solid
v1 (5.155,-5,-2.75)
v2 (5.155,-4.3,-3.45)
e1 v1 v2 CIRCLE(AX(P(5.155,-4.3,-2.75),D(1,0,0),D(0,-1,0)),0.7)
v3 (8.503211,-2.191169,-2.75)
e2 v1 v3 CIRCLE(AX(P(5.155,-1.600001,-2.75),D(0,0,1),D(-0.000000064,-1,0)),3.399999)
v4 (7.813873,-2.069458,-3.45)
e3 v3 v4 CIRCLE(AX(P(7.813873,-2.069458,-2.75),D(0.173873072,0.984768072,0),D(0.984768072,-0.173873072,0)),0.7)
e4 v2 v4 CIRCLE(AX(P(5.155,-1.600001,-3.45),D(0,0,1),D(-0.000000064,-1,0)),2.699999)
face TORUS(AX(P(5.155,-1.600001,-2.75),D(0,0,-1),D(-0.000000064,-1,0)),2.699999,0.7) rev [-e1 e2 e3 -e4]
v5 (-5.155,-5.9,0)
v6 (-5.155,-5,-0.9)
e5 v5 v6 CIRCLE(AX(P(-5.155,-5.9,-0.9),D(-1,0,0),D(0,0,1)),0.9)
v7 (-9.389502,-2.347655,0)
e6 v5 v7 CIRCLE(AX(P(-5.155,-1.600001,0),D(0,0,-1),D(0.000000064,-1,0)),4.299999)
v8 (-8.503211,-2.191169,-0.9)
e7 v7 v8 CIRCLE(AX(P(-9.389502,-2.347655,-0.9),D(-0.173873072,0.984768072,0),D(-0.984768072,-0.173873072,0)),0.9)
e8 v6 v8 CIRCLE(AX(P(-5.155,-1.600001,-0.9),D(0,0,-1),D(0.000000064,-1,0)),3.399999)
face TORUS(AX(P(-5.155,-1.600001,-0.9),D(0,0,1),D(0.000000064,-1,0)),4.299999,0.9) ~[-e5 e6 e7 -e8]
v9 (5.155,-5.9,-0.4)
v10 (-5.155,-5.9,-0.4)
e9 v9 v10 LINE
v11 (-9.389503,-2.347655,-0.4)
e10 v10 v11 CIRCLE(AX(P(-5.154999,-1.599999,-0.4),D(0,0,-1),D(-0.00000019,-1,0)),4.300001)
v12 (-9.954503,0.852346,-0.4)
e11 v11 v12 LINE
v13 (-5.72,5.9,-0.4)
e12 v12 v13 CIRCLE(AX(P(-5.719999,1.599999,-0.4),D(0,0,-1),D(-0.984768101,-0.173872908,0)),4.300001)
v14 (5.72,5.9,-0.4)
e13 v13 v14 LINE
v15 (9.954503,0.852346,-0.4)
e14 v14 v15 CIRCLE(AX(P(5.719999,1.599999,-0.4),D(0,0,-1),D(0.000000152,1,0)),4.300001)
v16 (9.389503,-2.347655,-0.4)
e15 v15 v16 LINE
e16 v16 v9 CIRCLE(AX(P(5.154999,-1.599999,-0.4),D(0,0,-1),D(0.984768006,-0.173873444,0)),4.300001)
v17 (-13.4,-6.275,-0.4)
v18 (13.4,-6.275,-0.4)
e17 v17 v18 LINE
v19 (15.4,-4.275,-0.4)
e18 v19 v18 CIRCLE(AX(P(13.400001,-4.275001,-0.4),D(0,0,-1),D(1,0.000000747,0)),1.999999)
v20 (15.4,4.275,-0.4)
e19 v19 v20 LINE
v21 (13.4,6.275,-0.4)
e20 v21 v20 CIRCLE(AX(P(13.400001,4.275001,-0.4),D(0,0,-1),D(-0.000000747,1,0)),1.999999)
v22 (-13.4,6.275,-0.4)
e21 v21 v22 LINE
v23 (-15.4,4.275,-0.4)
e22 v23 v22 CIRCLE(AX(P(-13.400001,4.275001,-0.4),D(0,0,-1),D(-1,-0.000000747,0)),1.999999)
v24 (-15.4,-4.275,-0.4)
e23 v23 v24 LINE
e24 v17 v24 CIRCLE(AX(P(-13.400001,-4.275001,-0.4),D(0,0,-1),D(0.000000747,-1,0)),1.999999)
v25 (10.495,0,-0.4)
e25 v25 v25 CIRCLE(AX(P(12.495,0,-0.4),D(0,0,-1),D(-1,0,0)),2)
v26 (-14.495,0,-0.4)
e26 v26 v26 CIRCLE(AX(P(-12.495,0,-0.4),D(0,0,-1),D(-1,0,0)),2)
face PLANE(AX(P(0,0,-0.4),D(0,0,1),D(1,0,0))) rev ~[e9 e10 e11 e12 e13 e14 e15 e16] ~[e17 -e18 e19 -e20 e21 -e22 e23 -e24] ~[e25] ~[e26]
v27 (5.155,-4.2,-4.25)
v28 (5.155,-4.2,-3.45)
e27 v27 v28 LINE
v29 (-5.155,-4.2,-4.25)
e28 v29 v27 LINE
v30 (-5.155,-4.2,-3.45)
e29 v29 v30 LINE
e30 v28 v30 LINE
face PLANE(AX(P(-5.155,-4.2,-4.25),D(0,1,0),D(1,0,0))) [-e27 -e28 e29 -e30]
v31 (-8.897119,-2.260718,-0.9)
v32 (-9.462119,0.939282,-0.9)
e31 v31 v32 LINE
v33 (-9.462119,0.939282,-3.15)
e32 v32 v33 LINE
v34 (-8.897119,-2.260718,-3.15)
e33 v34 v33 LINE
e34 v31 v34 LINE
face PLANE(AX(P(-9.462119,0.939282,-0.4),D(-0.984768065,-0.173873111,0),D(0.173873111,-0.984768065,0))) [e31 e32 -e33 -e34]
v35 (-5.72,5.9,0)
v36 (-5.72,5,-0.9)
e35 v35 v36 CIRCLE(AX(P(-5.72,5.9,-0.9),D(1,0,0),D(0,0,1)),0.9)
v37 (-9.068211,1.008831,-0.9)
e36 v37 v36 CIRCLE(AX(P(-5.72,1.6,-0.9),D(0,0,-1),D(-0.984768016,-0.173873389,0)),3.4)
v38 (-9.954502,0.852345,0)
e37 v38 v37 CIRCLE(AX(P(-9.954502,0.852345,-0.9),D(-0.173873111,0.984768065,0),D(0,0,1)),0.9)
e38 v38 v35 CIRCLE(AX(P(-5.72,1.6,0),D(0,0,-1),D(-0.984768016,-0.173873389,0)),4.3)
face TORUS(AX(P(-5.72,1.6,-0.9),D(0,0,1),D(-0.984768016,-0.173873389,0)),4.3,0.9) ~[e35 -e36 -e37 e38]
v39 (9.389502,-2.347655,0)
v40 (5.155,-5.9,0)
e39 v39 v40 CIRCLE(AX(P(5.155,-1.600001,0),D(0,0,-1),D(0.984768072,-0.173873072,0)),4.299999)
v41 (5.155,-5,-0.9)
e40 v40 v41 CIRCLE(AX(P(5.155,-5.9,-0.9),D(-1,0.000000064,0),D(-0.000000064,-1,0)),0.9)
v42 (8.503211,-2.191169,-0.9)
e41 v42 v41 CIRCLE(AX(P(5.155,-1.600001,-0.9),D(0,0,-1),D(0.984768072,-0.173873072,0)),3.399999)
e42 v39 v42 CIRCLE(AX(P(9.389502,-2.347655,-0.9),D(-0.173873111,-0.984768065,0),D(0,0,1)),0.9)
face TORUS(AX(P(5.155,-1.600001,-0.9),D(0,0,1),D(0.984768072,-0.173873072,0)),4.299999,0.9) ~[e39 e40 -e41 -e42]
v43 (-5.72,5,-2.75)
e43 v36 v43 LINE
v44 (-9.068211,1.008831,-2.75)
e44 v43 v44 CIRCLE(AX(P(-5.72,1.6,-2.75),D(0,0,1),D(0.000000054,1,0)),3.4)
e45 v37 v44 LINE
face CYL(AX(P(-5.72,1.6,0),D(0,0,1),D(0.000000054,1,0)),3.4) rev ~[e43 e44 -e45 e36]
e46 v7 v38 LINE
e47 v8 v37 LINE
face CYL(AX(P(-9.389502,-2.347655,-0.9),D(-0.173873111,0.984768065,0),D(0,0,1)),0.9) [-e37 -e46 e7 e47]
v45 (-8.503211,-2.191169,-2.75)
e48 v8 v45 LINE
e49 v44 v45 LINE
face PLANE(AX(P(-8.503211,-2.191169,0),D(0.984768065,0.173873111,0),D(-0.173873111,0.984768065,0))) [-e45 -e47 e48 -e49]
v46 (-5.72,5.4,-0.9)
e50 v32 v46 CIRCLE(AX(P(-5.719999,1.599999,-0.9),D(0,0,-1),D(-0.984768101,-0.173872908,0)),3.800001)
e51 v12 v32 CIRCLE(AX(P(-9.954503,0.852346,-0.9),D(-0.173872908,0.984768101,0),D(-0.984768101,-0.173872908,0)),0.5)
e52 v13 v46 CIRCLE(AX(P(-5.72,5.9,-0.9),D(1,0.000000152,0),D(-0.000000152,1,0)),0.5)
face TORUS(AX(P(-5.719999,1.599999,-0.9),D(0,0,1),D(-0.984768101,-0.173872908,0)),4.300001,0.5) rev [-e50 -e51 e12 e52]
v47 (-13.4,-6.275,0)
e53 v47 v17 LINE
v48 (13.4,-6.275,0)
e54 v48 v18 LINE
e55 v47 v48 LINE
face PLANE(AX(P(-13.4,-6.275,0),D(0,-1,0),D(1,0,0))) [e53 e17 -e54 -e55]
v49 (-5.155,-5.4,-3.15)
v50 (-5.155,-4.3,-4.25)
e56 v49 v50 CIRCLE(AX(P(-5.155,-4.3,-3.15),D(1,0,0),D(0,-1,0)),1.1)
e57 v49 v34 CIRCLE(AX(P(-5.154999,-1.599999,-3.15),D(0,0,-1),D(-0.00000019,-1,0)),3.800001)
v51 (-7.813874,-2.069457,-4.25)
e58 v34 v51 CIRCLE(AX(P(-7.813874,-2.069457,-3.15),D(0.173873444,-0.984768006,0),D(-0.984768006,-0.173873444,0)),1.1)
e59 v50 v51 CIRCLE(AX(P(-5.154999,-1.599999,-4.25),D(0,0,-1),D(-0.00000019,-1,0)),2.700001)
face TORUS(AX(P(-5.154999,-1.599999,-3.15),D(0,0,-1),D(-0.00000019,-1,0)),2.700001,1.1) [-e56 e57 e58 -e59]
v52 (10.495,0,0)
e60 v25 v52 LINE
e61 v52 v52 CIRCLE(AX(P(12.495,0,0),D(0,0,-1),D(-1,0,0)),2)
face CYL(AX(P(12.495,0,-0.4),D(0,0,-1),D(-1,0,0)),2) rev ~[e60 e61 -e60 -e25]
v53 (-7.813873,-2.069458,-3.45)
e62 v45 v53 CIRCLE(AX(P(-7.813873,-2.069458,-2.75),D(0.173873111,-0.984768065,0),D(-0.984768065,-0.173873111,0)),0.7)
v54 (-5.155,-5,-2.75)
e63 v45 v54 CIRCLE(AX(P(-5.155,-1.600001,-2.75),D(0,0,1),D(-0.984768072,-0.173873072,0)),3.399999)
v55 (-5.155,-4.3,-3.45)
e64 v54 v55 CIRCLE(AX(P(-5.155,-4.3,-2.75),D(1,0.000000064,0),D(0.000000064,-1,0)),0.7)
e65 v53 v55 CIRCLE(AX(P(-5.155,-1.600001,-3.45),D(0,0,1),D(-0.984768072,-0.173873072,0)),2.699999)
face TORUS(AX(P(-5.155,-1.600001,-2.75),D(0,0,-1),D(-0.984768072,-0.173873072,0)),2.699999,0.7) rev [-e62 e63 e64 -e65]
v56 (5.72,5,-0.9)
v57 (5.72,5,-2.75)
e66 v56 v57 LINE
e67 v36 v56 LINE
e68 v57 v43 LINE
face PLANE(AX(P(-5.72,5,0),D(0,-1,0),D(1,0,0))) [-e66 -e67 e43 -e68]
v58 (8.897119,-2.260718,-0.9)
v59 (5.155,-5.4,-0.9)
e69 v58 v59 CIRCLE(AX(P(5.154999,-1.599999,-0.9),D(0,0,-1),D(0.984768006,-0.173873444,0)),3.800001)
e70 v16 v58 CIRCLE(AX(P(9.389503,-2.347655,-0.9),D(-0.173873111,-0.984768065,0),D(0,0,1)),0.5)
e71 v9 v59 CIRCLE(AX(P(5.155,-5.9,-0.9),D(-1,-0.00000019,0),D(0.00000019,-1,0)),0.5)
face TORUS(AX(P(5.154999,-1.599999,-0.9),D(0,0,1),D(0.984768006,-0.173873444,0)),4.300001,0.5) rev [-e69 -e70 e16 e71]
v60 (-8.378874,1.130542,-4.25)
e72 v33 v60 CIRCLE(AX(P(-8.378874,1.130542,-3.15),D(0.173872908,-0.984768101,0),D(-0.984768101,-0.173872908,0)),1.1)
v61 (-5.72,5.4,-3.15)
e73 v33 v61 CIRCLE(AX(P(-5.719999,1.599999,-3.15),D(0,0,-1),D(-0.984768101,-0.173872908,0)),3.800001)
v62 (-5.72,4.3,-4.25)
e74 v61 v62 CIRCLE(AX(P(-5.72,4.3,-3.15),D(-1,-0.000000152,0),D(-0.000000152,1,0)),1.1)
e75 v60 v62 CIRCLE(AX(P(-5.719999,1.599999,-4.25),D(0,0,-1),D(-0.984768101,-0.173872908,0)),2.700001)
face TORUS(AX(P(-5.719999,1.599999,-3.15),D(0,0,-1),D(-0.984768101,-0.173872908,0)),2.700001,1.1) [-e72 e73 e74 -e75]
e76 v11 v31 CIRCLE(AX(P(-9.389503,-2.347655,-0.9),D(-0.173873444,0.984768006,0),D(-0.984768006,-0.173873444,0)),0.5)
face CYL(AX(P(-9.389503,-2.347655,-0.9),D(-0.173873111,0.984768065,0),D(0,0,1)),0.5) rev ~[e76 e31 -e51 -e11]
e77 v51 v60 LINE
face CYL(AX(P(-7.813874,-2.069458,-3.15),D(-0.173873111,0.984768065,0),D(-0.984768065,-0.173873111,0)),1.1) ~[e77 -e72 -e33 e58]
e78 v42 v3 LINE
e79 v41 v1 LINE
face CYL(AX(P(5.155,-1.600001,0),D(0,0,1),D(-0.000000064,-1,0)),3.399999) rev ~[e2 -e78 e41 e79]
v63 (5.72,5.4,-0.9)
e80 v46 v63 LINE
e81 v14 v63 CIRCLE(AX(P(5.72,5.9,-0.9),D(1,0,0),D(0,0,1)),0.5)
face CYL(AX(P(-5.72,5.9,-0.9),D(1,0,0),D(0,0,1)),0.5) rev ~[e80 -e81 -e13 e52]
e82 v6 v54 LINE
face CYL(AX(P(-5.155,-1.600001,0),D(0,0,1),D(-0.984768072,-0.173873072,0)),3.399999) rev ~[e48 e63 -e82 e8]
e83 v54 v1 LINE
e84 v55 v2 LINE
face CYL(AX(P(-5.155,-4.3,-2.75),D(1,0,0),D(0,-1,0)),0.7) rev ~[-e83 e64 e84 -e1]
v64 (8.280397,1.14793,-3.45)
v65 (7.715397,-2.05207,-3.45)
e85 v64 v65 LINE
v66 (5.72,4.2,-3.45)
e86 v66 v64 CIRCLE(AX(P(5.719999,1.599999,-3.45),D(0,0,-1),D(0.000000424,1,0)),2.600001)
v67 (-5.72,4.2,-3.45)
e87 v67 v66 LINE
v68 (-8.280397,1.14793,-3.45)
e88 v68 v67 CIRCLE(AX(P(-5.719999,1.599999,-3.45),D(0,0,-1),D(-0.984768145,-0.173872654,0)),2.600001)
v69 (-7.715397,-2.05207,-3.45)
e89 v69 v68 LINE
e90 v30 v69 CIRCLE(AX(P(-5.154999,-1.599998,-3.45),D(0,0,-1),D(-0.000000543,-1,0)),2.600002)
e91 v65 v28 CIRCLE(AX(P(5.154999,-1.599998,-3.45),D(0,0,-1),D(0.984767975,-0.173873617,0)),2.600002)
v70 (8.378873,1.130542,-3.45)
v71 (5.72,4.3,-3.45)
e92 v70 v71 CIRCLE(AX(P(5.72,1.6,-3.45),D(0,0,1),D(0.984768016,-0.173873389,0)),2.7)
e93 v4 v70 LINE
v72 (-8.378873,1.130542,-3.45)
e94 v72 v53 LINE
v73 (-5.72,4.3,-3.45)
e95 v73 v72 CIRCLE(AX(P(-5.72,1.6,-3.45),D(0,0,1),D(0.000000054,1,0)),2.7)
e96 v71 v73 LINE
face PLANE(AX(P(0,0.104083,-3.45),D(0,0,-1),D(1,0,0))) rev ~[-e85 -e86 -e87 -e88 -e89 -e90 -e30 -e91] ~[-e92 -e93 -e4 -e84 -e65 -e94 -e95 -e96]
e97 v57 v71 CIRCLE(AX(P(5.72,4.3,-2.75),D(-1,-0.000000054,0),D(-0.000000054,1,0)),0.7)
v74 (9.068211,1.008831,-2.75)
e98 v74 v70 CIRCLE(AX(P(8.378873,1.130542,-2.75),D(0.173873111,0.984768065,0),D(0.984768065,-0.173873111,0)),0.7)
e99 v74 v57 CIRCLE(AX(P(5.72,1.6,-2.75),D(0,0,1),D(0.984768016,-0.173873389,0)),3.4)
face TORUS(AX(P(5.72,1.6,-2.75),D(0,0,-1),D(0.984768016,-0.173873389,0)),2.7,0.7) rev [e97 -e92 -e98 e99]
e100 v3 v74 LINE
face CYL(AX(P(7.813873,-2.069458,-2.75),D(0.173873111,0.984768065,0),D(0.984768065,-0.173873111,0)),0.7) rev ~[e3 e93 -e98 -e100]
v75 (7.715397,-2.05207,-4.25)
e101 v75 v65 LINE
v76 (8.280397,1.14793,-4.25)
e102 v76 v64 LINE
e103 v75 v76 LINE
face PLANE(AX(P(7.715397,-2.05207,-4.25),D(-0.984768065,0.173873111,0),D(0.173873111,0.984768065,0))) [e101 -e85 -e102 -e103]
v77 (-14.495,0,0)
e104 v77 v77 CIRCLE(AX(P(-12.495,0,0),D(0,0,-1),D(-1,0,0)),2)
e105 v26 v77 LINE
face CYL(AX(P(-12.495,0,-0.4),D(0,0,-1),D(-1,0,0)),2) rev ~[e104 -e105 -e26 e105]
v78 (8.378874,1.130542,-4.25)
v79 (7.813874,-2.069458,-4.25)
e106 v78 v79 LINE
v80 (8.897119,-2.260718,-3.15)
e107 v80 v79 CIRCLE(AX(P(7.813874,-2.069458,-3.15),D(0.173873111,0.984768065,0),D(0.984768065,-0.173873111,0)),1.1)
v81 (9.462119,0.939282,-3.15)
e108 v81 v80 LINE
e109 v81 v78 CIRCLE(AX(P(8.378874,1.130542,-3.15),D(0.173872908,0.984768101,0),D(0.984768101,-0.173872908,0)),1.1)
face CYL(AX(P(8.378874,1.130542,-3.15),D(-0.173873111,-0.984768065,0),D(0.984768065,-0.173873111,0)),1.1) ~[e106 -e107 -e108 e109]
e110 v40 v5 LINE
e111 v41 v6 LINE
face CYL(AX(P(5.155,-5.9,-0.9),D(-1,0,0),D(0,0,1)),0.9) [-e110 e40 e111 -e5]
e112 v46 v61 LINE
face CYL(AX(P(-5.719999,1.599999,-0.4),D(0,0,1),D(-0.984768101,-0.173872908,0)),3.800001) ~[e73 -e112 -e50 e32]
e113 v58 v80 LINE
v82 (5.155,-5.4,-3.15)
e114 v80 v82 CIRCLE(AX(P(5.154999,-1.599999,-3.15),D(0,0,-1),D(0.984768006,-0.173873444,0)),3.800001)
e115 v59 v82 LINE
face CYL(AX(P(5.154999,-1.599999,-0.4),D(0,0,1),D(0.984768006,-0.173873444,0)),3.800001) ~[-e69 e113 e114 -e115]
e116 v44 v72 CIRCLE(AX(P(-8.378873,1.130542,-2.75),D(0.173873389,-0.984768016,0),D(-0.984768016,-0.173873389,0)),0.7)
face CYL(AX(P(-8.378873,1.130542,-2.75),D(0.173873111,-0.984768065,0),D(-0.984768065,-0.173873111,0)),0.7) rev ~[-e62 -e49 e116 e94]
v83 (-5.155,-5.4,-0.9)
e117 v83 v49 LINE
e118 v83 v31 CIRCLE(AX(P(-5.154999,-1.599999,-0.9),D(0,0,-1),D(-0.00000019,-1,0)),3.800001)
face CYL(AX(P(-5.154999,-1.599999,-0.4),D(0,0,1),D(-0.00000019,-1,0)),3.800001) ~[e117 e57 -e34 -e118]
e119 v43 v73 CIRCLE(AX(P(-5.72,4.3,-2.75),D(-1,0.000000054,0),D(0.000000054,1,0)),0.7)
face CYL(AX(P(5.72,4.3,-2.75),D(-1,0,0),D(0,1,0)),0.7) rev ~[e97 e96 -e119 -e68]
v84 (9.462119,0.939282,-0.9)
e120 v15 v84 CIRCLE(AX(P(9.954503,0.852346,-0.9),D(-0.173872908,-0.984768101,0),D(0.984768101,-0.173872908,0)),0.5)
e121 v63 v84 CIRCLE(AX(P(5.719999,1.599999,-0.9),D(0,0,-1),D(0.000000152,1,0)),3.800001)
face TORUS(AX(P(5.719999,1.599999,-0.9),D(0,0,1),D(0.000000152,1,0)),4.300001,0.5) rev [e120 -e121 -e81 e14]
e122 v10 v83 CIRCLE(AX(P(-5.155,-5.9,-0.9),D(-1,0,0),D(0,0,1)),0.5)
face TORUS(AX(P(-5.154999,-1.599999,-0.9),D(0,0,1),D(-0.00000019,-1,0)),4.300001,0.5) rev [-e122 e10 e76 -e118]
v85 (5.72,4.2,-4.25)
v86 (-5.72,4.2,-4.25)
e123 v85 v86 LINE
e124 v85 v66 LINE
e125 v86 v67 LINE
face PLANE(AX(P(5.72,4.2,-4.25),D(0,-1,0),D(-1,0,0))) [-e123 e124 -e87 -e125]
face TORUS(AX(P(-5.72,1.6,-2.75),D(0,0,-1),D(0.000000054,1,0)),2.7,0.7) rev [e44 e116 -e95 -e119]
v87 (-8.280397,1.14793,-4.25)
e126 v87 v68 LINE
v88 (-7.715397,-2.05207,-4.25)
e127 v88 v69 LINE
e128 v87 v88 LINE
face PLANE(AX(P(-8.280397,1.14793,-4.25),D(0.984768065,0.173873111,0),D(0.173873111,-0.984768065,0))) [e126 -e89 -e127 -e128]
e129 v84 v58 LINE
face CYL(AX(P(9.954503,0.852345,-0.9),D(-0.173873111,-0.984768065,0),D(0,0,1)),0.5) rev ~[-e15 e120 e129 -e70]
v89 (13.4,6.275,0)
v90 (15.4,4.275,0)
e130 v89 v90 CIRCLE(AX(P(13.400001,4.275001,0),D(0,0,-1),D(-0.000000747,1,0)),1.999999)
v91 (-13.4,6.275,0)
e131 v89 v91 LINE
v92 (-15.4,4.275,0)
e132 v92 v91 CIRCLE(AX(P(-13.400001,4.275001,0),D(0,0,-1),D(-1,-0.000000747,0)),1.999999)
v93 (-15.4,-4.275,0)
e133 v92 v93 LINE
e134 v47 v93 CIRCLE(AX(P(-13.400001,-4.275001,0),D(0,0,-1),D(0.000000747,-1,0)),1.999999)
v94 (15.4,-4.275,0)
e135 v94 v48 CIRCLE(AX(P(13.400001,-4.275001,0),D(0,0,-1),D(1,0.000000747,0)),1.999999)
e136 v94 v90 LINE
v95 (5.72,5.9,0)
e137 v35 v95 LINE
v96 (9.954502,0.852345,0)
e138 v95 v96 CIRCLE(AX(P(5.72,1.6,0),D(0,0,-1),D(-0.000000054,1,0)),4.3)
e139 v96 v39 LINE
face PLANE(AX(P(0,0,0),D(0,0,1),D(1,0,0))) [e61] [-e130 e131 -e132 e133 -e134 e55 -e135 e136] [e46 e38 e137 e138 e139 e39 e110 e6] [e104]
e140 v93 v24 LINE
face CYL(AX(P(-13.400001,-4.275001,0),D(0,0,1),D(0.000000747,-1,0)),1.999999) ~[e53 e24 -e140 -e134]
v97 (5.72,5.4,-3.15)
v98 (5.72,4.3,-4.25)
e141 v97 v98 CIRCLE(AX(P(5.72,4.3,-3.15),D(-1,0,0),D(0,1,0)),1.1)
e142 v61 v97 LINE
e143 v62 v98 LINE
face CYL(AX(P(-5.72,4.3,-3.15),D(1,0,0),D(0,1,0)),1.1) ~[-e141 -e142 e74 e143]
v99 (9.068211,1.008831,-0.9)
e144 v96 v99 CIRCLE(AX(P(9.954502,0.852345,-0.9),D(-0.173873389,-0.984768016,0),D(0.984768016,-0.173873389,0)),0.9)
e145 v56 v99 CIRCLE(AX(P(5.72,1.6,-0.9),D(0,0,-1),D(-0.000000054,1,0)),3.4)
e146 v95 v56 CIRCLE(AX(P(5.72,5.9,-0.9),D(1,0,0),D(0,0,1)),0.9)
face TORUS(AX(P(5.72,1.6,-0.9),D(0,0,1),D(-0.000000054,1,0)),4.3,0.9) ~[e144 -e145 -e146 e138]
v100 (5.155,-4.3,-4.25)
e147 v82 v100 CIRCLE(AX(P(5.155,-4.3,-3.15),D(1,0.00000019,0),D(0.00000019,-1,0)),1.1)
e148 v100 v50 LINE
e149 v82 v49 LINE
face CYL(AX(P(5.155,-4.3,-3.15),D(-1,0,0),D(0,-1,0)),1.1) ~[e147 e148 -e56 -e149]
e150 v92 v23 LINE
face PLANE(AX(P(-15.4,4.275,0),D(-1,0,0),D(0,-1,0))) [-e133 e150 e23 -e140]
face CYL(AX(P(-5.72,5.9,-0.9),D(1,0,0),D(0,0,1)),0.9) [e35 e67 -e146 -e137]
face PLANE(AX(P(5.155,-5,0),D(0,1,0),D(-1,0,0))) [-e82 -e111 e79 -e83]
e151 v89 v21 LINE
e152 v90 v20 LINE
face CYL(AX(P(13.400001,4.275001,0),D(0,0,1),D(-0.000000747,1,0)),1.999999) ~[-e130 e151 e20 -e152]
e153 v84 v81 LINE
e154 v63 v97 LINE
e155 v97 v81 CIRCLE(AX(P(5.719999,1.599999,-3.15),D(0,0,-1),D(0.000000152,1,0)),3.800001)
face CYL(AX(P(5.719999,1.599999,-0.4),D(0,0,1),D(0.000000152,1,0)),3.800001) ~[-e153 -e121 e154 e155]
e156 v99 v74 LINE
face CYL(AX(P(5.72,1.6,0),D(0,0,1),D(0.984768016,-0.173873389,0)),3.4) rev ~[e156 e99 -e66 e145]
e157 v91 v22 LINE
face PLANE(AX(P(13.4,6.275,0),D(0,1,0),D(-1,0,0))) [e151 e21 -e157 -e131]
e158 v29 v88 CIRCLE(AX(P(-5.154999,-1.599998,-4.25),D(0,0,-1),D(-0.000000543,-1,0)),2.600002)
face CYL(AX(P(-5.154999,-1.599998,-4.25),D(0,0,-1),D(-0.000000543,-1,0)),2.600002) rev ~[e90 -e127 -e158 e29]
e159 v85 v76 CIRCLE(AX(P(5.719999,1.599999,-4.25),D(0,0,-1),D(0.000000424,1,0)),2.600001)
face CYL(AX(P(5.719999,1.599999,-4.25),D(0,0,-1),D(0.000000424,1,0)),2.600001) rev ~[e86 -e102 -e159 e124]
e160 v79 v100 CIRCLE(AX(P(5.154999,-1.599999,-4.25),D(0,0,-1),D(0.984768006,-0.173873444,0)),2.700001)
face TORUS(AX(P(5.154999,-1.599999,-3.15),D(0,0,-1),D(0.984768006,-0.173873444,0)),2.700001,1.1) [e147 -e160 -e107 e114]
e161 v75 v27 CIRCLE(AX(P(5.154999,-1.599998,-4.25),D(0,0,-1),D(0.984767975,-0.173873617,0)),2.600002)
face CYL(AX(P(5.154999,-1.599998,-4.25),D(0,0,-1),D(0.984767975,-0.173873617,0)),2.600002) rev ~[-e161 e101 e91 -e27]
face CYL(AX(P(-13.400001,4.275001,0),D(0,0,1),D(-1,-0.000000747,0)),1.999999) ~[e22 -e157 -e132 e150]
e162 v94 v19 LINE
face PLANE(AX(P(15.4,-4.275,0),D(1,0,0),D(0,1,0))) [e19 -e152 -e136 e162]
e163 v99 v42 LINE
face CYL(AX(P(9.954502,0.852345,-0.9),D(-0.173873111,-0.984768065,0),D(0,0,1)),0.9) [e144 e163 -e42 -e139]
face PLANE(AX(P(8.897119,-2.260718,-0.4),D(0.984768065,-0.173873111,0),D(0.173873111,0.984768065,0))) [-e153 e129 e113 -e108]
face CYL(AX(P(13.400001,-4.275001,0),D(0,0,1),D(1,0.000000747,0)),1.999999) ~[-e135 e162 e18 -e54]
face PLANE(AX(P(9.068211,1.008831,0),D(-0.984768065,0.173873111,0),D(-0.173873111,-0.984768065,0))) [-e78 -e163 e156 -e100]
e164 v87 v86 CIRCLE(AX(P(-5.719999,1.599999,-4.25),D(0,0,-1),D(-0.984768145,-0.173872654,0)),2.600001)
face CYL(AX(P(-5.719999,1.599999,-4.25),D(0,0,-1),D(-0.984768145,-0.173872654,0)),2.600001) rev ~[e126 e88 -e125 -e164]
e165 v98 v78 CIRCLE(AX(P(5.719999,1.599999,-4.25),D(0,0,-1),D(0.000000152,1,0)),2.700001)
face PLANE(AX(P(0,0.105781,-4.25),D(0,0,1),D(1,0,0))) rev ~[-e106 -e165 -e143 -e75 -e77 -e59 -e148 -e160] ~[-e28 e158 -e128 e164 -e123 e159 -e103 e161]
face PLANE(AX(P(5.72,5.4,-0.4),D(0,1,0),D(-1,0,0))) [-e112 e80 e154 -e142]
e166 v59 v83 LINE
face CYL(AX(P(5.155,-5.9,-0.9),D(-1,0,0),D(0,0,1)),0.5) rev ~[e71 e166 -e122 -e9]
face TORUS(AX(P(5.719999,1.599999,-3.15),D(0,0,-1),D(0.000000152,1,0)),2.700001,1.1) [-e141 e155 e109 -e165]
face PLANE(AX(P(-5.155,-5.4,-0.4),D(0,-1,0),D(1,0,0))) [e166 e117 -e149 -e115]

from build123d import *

# Parameters (mm, degrees)
PAD002_DEPTH            = 0.4
SKETCH005_R             = 2
POCKET002_DEPTH         = 5
PAD003_DEPTH            = 3.85
POCKET003_DEPTH         = 4.251
POCKET004_DEPTH         = 3.45
FILLET003_R             = 0.7
FILLET004_R             = 0.5
FILLET005_R             = 1.1
FILLET006_R             = 0.9
BODY001_PLACEMENT_ANGLE = 180


with BuildPart() as part:
    # Sketch004 → Pad002 (new body)
    with BuildSketch(Plane.XY):
        with BuildLine():
            Line((-13.4, 6.275), (13.4, 6.275))
            ThreePointArc((15.4, 4.275), (14.814214, 5.689214), (13.4, 6.275))
            Line((15.4, 4.275), (15.4, -4.275))
            ThreePointArc((13.4, -6.275), (14.814214, -5.689214), (15.4, -4.275))
            Line((13.4, -6.275), (-13.4, -6.275))
            ThreePointArc((-15.4, -4.275), (-14.814214, -5.689214), (-13.4, -6.275))
            Line((-15.4, -4.275), (-15.4, 4.275))
            ThreePointArc((-13.4, 6.275), (-14.814214, 5.689214), (-15.4, 4.275))
        make_face()
    extrude(amount=PAD002_DEPTH)

    # Sketch005 (on Face10 of Pad002) → Pocket002 (cut)
    with BuildSketch(Plane.XY.offset(0.4)):
        with Locations((-12.495, 0)):
            Circle(SKETCH005_R)
        with Locations((12.495, 0)):
            Circle(SKETCH005_R)
    extrude(amount=-POCKET002_DEPTH, mode=Mode.SUBTRACT)

    # Sketch006 (on Face5 of Pocket002) → Pad003 (join)
    with BuildSketch(Plane.XY.offset(0.4)):
        with BuildLine():
            Line((-5.72, 5.4), (5.72, 5.4))
            ThreePointArc((9.462119, 0.939282), (8.631248, 4.04226), (5.72, 5.4))
            Line((9.462119, 0.939282), (8.897119, -2.260718))
            ThreePointArc((5.155, -5.4), (7.59726, -4.511248), (8.897119, -2.260718))
            Line((5.155, -5.4), (-5.155, -5.4))
            ThreePointArc((-8.897119, -2.260718), (-7.59726, -4.511248), (-5.155, -5.4))
            Line((-8.897119, -2.260718), (-9.462119, 0.939282))
            ThreePointArc((-5.72, 5.4), (-8.631248, 4.04226), (-9.462119, 0.939282))
        make_face()
    extrude(amount=PAD003_DEPTH)

    # Sketch007 (on Face21 of Pad003) → Pocket003 (cut, through all)
    with BuildSketch(Plane.XY.offset(4.25)):
        with BuildLine():
            Line((-5.72, 4.2), (5.72, 4.2))
            ThreePointArc((8.280397, 1.14793), (7.711906, 3.27102), (5.72, 4.2))
            Line((8.280397, 1.14793), (7.715397, -2.05207))
            ThreePointArc((5.155, -4.2), (6.82602, -3.591906), (7.715397, -2.05207))
            Line((5.155, -4.2), (-5.155, -4.2))
            ThreePointArc((-7.715397, -2.05207), (-6.82602, -3.591906), (-5.155, -4.2))
            Line((-7.715397, -2.05207), (-8.280397, 1.14793))
            ThreePointArc((-5.72, 4.2), (-7.711906, 3.27102), (-8.280397, 1.14793))
        make_face()
    extrude(amount=-POCKET003_DEPTH, mode=Mode.SUBTRACT)

    # Sketch008 (on Face4 of Pocket003) → Pocket004 (cut)
    with BuildSketch(Plane(origin=(0, 0, 0), x_dir=(1, 0, 0), z_dir=(0, 0, -1))):
        with BuildLine():
            Line((-5.155, 5), (5.155, 5))
            ThreePointArc((8.503211, 2.191169), (7.34018, 4.204801), (5.155, 5))
            Line((8.503211, 2.191169), (9.068211, -1.008831))
            ThreePointArc((5.72, -5), (8.324801, -3.78518), (9.068211, -1.008831))
            Line((5.72, -5), (-5.72, -5))
            ThreePointArc((-9.068211, -1.008831), (-8.324801, -3.78518), (-5.72, -5))
            Line((-9.068211, -1.008831), (-8.503211, 2.191169))
            ThreePointArc((-5.155, 5), (-7.34018, 4.204801), (-8.503211, 2.191169))
        make_face()
    extrude(amount=-POCKET004_DEPTH, mode=Mode.SUBTRACT)

    # Fillet003
    fillet003_edges = [part.edges().sort_by_distance(p)[0] for p in [
        (8.324801, 3.78518, 3.45),
    ]]
    fillet(fillet003_edges, radius=FILLET003_R)

    # Fillet004
    fillet004_edges = [part.edges().sort_by_distance(p)[0] for p in [
        (8.631248, 4.04226, 0.4),
    ]]
    fillet(fillet004_edges, radius=FILLET004_R)

    # Fillet005
    fillet005_edges = [part.edges().sort_by_distance(p)[0] for p in [
        (8.631248, 4.04226, 4.25),
    ]]
    fillet(fillet005_edges, radius=FILLET005_R)

    # Fillet006
    fillet006_edges = [part.edges().sort_by_distance(p)[0] for p in [
        (0, 5, 0),
    ]]
    fillet(fillet006_edges, radius=FILLET006_R)


with BuildPart() as part_1:
    # Body001 placement: moved
    add(part.part.rotate(Axis((0, 0, 0), (0, 1, 0)), BODY001_PLACEMENT_ANGLE))


solid = part_1.part
